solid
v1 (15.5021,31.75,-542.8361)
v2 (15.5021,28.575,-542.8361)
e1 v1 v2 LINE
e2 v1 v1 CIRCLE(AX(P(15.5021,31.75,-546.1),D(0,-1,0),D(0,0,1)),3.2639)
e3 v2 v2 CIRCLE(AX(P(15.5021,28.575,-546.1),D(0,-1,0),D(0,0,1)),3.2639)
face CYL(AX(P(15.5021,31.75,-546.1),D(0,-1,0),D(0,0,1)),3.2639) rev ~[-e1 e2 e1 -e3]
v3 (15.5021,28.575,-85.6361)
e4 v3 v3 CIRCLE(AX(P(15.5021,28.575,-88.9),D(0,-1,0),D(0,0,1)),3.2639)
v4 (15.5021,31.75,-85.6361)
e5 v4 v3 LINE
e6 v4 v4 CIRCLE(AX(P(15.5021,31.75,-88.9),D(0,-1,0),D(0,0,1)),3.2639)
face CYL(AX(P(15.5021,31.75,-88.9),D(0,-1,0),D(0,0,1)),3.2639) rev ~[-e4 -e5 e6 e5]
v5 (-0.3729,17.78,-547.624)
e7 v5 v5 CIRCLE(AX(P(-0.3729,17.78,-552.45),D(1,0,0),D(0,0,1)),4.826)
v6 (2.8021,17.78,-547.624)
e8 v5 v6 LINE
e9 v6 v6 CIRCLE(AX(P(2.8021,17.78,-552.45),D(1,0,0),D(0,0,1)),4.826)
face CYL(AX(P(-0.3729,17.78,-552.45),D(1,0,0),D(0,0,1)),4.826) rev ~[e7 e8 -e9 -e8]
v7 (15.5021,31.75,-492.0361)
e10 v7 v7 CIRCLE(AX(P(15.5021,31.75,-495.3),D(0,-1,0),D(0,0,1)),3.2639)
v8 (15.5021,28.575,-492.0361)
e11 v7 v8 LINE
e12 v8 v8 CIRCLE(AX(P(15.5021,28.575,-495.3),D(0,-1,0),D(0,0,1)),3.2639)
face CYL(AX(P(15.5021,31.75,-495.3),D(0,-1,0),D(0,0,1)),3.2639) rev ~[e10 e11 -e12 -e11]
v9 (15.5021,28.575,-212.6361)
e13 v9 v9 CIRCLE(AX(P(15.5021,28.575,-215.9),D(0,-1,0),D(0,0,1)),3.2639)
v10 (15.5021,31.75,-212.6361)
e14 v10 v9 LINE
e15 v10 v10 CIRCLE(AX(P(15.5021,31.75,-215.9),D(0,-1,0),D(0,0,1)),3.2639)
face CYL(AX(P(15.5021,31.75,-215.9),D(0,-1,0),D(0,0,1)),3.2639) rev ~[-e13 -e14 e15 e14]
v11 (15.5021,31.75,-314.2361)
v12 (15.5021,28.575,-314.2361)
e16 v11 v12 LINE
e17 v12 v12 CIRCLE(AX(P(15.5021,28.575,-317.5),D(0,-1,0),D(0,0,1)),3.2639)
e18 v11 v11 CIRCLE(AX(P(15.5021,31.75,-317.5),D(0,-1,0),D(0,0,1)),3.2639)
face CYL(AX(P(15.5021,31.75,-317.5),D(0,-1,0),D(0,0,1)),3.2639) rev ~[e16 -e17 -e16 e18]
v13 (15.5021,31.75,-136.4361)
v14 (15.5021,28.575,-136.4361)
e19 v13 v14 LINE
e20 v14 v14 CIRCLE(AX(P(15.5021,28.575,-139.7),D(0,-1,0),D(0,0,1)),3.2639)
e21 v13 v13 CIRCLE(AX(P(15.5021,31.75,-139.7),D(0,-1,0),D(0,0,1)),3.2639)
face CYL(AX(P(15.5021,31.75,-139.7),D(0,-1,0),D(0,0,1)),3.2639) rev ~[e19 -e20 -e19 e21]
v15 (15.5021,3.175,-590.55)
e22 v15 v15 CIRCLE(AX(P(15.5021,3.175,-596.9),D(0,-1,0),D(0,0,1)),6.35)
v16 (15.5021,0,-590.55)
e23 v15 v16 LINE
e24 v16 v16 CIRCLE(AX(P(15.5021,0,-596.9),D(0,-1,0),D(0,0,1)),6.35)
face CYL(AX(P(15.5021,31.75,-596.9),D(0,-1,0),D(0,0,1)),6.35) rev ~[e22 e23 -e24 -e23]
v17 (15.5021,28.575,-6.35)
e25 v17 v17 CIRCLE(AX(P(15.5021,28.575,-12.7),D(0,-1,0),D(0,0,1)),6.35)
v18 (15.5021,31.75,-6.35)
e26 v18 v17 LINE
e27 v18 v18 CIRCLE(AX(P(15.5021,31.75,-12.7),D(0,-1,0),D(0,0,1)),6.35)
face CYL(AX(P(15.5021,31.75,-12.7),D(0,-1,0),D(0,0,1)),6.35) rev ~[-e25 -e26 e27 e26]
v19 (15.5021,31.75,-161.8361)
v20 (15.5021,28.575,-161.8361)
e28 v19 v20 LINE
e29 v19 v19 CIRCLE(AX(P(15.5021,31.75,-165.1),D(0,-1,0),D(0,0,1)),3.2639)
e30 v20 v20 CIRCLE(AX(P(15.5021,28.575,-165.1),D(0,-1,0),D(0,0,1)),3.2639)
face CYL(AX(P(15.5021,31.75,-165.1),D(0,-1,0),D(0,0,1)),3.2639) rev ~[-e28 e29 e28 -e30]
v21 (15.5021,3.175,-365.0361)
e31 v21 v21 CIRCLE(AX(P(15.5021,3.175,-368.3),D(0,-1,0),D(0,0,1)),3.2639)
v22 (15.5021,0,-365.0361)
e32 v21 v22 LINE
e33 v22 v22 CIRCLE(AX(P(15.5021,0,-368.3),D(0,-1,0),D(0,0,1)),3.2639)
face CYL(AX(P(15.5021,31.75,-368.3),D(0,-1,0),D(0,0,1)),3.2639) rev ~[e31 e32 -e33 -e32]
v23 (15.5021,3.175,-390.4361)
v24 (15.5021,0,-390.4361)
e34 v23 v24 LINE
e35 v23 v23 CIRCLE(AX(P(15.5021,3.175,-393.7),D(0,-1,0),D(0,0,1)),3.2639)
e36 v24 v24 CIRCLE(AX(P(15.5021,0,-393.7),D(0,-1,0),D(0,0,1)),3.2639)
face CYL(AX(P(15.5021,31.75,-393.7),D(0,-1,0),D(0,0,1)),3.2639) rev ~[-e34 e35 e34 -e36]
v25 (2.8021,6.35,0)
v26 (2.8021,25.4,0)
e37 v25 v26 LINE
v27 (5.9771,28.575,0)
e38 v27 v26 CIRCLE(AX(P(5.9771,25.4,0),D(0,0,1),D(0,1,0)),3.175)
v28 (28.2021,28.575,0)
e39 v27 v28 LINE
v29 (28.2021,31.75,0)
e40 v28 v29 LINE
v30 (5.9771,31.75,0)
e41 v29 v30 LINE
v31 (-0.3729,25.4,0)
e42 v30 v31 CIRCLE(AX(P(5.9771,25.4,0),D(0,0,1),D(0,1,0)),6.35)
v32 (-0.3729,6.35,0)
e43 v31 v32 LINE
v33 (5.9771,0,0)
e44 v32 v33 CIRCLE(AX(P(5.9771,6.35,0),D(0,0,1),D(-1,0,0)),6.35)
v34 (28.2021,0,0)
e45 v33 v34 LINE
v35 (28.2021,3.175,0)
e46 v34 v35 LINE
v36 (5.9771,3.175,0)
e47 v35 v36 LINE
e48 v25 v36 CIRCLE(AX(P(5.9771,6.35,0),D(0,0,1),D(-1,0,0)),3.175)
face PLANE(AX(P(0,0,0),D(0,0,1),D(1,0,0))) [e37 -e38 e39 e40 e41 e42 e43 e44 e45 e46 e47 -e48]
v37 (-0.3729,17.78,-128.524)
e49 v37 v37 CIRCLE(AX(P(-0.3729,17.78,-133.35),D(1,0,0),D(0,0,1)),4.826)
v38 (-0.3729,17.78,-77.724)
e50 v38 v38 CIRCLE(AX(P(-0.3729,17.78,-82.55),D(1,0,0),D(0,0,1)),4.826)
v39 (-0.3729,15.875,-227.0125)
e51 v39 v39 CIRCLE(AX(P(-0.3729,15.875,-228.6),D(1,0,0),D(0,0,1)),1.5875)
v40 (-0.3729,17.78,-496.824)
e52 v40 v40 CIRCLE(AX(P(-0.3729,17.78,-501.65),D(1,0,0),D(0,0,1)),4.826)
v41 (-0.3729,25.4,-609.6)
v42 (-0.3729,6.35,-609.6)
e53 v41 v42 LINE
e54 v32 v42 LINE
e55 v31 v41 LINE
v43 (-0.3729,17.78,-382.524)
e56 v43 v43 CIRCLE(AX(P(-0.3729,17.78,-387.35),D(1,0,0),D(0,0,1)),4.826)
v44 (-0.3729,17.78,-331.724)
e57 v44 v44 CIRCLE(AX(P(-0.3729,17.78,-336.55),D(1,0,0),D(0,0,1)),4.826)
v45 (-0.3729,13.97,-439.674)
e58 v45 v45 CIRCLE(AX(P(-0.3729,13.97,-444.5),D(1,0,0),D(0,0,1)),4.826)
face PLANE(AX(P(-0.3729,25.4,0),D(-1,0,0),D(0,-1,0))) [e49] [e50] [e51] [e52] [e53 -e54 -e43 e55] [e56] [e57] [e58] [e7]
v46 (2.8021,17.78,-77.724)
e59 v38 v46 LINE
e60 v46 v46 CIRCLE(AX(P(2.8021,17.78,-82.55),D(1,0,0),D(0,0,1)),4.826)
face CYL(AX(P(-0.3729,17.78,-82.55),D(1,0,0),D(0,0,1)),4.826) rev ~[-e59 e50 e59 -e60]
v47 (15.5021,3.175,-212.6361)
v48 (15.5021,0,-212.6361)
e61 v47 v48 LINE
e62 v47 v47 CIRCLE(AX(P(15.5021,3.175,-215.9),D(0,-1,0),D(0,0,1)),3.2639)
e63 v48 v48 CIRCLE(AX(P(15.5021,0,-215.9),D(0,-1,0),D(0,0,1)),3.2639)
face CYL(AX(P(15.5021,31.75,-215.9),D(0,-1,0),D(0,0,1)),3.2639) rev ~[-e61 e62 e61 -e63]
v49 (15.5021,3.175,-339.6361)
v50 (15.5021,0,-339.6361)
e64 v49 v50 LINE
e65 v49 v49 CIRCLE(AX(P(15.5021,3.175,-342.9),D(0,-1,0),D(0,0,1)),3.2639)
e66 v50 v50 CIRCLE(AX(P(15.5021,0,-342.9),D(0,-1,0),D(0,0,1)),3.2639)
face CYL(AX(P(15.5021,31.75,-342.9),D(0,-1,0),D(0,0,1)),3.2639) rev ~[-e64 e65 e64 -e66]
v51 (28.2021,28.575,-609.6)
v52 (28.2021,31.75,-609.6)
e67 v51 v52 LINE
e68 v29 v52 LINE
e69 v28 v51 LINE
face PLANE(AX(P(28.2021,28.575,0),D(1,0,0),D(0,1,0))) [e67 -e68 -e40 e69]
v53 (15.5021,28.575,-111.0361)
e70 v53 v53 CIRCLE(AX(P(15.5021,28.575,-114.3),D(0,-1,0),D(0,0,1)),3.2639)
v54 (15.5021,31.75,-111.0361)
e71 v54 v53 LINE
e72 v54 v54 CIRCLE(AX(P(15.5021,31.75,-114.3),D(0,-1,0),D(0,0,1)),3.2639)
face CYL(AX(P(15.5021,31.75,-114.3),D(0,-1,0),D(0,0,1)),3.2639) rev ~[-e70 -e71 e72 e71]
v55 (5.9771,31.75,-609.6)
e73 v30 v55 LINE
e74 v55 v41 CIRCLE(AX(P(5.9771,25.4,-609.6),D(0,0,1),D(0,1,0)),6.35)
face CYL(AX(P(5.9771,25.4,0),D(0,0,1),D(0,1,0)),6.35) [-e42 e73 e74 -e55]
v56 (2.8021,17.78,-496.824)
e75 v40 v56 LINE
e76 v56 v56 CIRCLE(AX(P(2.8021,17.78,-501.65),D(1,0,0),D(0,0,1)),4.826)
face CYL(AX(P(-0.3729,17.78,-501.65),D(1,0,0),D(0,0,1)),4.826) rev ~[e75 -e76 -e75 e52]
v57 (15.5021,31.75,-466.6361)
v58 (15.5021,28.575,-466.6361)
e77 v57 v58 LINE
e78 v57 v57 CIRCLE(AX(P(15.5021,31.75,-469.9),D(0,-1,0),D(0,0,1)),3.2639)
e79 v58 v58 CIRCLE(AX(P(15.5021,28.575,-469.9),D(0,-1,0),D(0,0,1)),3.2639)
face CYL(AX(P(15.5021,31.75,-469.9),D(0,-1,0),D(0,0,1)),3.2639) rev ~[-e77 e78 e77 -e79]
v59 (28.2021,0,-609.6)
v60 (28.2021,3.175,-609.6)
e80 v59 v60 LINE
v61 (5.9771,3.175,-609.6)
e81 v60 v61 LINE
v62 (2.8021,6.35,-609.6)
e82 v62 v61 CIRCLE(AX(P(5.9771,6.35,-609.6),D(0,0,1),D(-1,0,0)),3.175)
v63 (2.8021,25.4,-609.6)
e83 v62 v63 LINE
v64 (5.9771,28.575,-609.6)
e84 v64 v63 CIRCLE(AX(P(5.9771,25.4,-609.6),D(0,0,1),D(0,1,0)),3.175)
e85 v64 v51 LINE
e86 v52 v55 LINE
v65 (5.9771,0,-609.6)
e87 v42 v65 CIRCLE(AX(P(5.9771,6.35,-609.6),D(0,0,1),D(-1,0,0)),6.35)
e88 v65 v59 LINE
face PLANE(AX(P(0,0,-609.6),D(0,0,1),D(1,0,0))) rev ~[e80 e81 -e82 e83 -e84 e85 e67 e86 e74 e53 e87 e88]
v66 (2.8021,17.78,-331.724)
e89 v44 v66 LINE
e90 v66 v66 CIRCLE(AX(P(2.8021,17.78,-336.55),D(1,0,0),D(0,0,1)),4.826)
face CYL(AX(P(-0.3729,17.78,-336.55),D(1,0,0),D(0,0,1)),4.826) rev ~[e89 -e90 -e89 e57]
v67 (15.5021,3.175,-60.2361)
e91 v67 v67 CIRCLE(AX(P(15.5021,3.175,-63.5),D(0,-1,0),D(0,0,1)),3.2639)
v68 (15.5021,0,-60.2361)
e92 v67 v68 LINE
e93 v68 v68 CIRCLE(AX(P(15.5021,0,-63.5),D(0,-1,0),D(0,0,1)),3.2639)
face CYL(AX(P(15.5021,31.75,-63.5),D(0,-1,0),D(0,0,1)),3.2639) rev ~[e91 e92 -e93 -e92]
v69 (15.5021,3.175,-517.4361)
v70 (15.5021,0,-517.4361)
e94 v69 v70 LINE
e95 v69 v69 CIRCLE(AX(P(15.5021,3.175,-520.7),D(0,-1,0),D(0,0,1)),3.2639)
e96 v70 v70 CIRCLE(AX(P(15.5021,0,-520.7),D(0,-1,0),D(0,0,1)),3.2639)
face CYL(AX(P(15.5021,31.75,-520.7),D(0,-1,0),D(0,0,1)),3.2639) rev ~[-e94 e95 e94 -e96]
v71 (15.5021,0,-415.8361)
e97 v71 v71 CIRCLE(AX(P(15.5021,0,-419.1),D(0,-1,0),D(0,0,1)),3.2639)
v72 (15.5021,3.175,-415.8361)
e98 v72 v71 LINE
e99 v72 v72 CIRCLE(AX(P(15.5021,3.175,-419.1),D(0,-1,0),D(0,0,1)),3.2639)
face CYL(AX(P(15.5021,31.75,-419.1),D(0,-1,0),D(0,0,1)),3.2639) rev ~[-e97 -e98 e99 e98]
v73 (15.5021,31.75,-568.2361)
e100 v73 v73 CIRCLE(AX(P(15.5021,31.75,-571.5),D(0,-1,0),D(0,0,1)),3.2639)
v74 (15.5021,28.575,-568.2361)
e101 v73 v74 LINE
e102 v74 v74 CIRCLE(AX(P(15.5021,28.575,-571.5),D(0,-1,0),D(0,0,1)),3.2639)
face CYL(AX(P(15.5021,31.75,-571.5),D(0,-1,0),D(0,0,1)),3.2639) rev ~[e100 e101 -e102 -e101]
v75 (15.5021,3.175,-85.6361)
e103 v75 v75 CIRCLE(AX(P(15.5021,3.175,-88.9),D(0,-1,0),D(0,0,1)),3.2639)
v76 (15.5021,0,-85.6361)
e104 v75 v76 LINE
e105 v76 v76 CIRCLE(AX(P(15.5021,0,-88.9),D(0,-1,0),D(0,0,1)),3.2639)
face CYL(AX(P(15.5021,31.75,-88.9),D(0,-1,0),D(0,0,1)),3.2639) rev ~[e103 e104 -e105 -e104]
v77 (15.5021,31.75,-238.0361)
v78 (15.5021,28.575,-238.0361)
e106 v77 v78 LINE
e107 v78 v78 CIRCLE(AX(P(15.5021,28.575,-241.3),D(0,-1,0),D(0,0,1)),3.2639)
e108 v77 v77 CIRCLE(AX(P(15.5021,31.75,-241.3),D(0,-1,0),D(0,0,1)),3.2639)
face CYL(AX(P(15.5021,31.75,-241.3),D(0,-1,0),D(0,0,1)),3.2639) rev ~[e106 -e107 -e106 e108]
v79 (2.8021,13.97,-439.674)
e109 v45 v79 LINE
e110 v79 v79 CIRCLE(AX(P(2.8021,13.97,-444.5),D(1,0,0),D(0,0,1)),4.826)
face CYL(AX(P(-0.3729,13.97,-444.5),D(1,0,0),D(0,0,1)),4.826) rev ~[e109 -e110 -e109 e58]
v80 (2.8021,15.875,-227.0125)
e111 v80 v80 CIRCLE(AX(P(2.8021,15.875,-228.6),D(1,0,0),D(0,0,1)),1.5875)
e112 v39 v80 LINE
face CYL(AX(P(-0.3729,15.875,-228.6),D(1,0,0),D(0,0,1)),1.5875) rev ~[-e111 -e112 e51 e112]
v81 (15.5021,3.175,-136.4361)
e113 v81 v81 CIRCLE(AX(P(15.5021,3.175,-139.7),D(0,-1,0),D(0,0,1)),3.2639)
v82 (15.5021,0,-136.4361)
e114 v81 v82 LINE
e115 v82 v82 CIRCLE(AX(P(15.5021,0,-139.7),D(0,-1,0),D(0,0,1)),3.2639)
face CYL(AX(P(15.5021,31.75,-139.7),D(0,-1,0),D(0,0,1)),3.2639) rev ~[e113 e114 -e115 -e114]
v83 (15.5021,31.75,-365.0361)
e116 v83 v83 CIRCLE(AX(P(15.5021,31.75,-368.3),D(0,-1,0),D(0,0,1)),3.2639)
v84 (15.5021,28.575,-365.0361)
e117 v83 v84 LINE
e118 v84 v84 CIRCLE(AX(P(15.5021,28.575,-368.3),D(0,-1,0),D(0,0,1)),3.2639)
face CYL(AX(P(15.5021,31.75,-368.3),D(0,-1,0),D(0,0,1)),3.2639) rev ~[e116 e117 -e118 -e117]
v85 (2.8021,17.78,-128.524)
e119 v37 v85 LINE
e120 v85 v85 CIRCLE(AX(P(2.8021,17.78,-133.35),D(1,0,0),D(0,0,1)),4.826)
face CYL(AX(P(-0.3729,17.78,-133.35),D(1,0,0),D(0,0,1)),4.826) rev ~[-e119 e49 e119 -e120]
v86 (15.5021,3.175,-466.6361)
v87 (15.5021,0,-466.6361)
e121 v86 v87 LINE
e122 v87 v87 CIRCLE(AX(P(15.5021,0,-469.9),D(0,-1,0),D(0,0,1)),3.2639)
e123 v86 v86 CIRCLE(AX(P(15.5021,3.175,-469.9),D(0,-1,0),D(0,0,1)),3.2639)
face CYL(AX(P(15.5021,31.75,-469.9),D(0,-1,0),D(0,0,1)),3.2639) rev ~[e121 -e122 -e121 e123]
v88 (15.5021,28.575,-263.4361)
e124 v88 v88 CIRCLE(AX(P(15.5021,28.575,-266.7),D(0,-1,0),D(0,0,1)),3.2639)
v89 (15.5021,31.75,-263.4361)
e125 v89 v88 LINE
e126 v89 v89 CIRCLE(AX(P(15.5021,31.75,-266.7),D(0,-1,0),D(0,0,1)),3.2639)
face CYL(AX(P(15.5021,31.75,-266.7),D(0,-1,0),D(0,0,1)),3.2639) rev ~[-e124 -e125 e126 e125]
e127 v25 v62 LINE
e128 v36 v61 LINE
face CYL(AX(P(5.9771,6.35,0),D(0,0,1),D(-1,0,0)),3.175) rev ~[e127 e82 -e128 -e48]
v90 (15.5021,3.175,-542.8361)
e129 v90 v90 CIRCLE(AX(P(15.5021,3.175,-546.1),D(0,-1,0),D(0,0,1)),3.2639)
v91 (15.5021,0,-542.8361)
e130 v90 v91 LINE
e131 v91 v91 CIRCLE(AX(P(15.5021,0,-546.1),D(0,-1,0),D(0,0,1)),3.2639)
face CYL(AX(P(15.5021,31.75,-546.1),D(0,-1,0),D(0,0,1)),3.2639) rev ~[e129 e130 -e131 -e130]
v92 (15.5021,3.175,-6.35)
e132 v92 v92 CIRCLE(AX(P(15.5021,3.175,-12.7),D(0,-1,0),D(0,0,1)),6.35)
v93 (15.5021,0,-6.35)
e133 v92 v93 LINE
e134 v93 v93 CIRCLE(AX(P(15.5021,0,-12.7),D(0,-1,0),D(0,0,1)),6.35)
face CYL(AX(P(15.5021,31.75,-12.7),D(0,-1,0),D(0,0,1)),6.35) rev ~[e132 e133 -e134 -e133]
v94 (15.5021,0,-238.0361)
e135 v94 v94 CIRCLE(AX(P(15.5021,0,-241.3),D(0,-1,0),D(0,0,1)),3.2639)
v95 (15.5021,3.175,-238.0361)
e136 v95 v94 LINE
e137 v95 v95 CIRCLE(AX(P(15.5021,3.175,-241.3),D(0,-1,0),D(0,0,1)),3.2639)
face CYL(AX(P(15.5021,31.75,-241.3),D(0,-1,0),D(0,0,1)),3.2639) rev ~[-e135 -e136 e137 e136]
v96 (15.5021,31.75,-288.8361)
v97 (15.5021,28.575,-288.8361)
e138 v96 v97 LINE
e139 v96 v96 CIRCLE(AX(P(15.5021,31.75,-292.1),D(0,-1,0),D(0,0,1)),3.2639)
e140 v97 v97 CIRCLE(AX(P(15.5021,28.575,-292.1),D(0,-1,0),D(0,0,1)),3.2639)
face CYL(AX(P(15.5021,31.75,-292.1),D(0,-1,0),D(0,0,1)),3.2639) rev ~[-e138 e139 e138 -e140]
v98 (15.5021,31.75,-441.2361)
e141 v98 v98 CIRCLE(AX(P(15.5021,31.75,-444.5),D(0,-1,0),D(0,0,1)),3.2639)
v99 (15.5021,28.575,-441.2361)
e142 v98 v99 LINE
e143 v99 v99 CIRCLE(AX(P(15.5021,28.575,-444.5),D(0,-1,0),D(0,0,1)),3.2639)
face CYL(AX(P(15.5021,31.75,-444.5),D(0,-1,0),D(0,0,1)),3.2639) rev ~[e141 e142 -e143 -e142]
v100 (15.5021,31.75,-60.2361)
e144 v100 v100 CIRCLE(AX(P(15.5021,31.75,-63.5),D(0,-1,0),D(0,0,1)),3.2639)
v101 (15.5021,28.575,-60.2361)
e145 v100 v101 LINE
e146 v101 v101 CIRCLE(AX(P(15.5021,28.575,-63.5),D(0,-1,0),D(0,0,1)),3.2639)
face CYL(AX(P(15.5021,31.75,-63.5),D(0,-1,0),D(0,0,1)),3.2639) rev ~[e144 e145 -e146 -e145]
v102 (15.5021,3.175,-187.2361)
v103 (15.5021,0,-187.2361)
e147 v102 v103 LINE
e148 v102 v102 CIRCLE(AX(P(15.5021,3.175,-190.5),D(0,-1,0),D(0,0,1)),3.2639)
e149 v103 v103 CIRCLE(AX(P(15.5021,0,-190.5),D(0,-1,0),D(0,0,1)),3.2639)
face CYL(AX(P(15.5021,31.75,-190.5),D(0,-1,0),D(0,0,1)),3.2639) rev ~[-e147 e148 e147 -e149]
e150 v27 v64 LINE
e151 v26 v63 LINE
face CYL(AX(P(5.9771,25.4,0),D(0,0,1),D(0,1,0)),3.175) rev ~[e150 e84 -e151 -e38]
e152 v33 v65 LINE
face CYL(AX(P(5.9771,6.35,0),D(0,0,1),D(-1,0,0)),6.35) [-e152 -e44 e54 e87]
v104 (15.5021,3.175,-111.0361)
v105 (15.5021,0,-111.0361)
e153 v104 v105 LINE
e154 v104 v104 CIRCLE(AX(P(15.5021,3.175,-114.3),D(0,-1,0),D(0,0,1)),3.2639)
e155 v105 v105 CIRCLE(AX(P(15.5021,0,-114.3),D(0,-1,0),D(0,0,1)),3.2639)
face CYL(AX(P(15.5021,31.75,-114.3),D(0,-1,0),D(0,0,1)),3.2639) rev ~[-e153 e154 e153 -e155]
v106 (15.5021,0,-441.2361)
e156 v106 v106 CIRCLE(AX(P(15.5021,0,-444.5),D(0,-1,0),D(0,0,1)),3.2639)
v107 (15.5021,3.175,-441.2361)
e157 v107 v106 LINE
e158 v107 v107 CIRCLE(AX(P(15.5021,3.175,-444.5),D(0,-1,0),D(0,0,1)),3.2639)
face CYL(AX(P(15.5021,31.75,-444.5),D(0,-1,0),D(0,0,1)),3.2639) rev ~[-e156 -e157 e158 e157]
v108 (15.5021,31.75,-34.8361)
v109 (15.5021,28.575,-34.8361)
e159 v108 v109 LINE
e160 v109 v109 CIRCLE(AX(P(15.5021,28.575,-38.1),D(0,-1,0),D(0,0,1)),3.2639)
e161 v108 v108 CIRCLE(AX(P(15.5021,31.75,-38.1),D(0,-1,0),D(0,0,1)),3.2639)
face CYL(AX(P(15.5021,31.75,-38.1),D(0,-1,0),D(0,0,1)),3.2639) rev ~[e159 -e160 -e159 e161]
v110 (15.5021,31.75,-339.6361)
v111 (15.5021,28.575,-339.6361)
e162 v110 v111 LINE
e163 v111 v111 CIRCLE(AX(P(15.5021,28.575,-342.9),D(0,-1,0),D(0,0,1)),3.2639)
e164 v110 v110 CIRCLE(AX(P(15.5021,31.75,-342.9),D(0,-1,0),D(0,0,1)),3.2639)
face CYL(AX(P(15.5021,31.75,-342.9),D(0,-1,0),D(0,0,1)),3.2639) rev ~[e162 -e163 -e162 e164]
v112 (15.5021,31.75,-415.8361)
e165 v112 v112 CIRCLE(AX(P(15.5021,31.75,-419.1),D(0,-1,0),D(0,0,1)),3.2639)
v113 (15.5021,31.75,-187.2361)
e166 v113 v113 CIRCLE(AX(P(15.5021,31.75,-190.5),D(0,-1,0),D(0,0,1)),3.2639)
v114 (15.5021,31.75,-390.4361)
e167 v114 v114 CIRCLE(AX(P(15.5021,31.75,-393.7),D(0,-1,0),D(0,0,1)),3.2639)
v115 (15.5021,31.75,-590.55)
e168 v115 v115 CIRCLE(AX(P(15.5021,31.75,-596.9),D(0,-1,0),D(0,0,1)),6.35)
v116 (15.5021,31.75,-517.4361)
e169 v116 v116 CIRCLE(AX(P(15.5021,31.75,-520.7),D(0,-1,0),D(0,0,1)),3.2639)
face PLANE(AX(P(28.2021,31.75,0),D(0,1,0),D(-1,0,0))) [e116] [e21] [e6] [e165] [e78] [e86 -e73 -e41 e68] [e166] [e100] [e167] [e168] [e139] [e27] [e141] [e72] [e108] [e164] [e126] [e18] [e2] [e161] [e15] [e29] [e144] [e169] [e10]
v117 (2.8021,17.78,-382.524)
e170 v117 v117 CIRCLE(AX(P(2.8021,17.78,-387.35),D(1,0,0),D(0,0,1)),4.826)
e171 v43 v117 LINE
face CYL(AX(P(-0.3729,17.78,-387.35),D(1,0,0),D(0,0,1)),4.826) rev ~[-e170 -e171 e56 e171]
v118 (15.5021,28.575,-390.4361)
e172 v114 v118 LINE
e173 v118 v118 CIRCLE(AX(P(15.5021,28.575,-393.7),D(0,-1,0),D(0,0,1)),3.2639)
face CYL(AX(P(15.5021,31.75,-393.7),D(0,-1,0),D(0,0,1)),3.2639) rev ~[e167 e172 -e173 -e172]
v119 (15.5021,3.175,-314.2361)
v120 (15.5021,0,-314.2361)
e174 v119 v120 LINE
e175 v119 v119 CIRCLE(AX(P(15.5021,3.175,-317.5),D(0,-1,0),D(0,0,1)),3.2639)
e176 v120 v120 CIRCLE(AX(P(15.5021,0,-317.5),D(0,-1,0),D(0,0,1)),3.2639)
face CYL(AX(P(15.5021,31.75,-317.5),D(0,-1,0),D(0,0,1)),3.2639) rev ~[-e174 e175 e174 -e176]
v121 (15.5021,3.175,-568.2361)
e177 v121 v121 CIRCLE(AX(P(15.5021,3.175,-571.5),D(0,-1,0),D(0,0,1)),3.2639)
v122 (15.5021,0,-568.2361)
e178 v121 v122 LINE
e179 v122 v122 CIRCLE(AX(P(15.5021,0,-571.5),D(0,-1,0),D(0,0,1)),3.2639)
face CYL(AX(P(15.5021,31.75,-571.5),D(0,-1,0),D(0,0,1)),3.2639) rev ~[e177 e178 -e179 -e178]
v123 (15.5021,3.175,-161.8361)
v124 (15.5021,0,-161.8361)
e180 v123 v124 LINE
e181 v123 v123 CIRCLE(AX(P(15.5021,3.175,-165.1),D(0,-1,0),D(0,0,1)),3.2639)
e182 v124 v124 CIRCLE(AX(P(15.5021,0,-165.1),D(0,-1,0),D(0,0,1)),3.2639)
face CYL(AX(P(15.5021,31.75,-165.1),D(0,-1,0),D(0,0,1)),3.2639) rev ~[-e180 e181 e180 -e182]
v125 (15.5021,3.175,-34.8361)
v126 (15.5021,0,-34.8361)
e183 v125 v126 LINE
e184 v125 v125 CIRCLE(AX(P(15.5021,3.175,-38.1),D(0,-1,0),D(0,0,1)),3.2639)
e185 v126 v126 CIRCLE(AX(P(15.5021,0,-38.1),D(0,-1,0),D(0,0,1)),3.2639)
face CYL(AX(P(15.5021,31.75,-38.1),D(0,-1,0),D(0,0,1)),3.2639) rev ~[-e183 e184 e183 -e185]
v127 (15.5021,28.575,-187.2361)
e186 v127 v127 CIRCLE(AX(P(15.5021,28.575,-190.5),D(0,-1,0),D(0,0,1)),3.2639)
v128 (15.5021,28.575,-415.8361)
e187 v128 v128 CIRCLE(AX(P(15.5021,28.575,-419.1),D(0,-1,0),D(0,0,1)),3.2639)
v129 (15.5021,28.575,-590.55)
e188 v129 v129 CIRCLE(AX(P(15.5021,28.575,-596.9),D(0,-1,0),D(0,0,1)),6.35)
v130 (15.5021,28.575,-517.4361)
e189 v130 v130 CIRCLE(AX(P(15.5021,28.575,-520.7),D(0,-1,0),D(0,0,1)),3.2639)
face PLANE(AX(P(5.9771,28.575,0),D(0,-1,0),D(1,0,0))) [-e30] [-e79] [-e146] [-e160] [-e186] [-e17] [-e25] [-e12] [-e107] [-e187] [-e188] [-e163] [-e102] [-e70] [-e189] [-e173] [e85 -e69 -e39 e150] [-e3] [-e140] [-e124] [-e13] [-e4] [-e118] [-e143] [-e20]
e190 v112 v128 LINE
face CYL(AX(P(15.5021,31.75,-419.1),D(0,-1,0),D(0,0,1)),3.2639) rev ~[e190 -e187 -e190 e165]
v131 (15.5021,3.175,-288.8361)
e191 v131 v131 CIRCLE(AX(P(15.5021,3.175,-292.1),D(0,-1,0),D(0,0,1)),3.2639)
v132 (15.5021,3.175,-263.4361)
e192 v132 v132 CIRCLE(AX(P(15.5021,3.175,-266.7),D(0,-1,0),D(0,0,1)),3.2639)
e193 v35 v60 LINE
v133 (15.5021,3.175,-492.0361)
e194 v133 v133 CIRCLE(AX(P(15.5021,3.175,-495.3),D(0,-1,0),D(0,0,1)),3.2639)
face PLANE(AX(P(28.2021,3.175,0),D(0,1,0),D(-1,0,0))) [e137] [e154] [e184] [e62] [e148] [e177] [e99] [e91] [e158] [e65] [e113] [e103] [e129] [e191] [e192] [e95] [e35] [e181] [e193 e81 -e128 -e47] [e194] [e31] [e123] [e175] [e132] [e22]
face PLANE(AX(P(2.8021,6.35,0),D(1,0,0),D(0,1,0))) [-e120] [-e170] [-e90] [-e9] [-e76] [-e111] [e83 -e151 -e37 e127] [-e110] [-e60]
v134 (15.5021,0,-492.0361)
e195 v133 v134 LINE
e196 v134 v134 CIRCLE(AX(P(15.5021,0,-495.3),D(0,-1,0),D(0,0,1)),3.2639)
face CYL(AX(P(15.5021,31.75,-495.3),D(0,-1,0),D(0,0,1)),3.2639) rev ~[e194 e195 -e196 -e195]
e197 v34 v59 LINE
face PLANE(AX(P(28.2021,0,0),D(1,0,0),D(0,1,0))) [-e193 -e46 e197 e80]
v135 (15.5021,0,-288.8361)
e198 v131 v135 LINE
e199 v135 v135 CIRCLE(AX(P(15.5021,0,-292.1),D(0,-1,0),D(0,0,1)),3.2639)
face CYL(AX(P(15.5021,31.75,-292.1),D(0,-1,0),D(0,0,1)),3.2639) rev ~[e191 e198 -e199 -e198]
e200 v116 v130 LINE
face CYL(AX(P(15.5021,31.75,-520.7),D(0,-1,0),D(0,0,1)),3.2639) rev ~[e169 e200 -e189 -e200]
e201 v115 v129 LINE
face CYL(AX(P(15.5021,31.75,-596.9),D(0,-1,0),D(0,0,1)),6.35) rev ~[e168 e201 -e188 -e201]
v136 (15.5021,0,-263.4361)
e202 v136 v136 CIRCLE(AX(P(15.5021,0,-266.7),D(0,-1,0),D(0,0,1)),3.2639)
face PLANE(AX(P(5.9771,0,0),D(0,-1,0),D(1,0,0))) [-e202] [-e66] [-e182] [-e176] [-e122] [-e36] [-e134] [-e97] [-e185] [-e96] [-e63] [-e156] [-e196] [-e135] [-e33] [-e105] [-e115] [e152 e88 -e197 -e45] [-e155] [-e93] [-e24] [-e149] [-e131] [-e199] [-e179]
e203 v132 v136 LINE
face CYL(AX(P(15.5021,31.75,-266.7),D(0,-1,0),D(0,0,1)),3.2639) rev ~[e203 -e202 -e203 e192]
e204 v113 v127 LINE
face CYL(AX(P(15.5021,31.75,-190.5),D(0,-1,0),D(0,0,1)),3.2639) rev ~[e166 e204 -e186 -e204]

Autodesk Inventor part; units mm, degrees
ref_plane "YZ Plane" through (0, 0, 0) normal (1, 0, 0) x (0, 1, 0)
ref_plane "XZ Plane" through (0, 0, 0) normal (0, 1, 0) x (-1, 0, 0)
ref_plane "XY Plane" through (0, 0, 0) normal (0, 0, 1) x (1, 0, 0)
sketch "Sketch1" plane through (0, 0, 0) normal (0, 0, 1) x (1, 0, 0)
  line L0 (5.9771, 0) -> (28.2021, 0)
  line L1 (28.2021, 0) -> (28.2021, 3.175)
  line L2 (28.2021, 3.175) -> (5.9771, 3.175)
  line L3 (2.8021, 6.35) -> (2.8021, 25.4)
  line L4 (5.9771, 28.575) -> (28.2021, 28.575)
  line L5 (28.2021, 28.575) -> (28.2021, 31.75)
  line L6 (28.2021, 31.75) -> (5.9771, 31.75)
  line L7 (-0.3729, 25.4) -> (-0.3729, 6.35)
  arc A0 (5.9771, 28.575) -> (2.8021, 25.4) centre (5.9771, 25.4) ccw
  arc A1 (2.8021, 6.35) -> (5.9771, 3.175) centre (5.9771, 6.35) ccw
  arc A2 (5.9771, 31.75) -> (-0.3729, 25.4) centre (5.9771, 25.4) ccw
  arc A3 (-0.3729, 6.35) -> (5.9771, 0) centre (5.9771, 6.35) ccw
  point P0 (0, 0)
  point P1 (-0.3729, 0)
  point P2 (2.8021, 3.175)
  point P3 (2.8021, 28.575)
  dimension "d0" = 28.575
  dimension "d1" = 3.175
  dimension "d2" = 25.4
  dimension "d3" = 25.4
  dimension "d4" = 3.175
  dimension "d5" = 3.175
  dimension "d6" = 6.35
extrude "Extrusion1" add sketch "Sketch1" against normal blind 609.6
sketch "Sketch2" plane through (-0.3729, 6.35, 0) normal (-1, 0, 0) x (0, 0, 1)
  line L0 (0, 19.05) -> (-609.6, 19.05) projected
  line L1 (-228.6, 0) -> (-228.6, 7.9375)
  arc A0 (-228.6, 11.1125) -> (-228.6, 7.9375) centre (-228.6, 9.525) ccw
  line L2 (-228.6, 11.1125) -> (-228.6, 19.05)
  line L3 (-228.6, 19.05) -> (-889, 19.05)
  line L4 (-889, 0) -> (-889, 19.05)
  line L5 (-889, 0) -> (-228.6, 0)
  circle A1 centre (-552.45, 11.43) radius 4.826
  circle A2 centre (-501.65, 11.43) radius 4.826
  circle A3 centre (-387.35, 11.43) radius 4.826
  circle A4 centre (-336.55, 11.43) radius 4.826
  circle A5 centre (-444.5, 7.62) radius 4.826
  circle A6 centre (-730.25, 11.43) radius 4.826
  circle A7 centre (-781.05, 11.43) radius 4.826
  line L6 (0, 25.4) -> (-609.6, 25.4) construction
  circle A8 centre (-133.35, 11.43) radius 4.826
  circle A9 centre (-82.55, 11.43) radius 4.826
  point P0 (0, -6.35)
  point P1 (-254, 0.852)
  dimension "d10" = 7.62
  dimension "d11" = 3.81
  dimension "d14" = 254
hole "Hole1" at (-0.3729, 17.78, -781.05) at (-0.3729, 17.78, -730.25) at (-0.3729, 17.78, -552.45) at (-0.3729, 17.78, -501.65) at (-0.3729, 13.97, -444.5) at (-0.3729, 17.78, -387.35) at (-0.3729, 17.78, -336.55) at (-0.3729, 17.78, -133.35) at (-0.3729, 17.78, -82.55) direction (1, 0, 0) diameter 9.652 end through all
hole "Hole2" at (-0.3729, 15.875, -228.6) direction (1, 0, 0) diameter 3.175 end through all
sketch "Sketch3" plane through (5.9771, 31.75, 0) normal (0, 1, 0) x (1, 0, 0)
  line L0 (22.225, 609.6) -> (0, 609.6) projected
  line L1 (22.225, 0) -> (22.225, 609.6) projected
  point P0 (-5.9771, 0)
  point P1 (9.525, 596.9)
  dimension "d34" = 12.7
  dimension "d35" = 12.7
hole "Hole3" at (15.5021, 31.75, -596.9) direction (0, -1, 0) diameter 6.5278 end through all
pattern_linear "Rectangular Pattern1" count 35 spacing 25.4 along (0, 0, 1) of "Hole3"
hole "Hole4" at (15.5021, 31.75, -12.7) direction (0, -1, 0) diameter 12.7 end through all
hole "Hole5" at (15.5021, 31.75, -596.9) direction (0, -1, 0) diameter 12.7 end through all
equation "\"d35\" = d34"
properties part number "c-channel (24 in with .5 in holes)"
